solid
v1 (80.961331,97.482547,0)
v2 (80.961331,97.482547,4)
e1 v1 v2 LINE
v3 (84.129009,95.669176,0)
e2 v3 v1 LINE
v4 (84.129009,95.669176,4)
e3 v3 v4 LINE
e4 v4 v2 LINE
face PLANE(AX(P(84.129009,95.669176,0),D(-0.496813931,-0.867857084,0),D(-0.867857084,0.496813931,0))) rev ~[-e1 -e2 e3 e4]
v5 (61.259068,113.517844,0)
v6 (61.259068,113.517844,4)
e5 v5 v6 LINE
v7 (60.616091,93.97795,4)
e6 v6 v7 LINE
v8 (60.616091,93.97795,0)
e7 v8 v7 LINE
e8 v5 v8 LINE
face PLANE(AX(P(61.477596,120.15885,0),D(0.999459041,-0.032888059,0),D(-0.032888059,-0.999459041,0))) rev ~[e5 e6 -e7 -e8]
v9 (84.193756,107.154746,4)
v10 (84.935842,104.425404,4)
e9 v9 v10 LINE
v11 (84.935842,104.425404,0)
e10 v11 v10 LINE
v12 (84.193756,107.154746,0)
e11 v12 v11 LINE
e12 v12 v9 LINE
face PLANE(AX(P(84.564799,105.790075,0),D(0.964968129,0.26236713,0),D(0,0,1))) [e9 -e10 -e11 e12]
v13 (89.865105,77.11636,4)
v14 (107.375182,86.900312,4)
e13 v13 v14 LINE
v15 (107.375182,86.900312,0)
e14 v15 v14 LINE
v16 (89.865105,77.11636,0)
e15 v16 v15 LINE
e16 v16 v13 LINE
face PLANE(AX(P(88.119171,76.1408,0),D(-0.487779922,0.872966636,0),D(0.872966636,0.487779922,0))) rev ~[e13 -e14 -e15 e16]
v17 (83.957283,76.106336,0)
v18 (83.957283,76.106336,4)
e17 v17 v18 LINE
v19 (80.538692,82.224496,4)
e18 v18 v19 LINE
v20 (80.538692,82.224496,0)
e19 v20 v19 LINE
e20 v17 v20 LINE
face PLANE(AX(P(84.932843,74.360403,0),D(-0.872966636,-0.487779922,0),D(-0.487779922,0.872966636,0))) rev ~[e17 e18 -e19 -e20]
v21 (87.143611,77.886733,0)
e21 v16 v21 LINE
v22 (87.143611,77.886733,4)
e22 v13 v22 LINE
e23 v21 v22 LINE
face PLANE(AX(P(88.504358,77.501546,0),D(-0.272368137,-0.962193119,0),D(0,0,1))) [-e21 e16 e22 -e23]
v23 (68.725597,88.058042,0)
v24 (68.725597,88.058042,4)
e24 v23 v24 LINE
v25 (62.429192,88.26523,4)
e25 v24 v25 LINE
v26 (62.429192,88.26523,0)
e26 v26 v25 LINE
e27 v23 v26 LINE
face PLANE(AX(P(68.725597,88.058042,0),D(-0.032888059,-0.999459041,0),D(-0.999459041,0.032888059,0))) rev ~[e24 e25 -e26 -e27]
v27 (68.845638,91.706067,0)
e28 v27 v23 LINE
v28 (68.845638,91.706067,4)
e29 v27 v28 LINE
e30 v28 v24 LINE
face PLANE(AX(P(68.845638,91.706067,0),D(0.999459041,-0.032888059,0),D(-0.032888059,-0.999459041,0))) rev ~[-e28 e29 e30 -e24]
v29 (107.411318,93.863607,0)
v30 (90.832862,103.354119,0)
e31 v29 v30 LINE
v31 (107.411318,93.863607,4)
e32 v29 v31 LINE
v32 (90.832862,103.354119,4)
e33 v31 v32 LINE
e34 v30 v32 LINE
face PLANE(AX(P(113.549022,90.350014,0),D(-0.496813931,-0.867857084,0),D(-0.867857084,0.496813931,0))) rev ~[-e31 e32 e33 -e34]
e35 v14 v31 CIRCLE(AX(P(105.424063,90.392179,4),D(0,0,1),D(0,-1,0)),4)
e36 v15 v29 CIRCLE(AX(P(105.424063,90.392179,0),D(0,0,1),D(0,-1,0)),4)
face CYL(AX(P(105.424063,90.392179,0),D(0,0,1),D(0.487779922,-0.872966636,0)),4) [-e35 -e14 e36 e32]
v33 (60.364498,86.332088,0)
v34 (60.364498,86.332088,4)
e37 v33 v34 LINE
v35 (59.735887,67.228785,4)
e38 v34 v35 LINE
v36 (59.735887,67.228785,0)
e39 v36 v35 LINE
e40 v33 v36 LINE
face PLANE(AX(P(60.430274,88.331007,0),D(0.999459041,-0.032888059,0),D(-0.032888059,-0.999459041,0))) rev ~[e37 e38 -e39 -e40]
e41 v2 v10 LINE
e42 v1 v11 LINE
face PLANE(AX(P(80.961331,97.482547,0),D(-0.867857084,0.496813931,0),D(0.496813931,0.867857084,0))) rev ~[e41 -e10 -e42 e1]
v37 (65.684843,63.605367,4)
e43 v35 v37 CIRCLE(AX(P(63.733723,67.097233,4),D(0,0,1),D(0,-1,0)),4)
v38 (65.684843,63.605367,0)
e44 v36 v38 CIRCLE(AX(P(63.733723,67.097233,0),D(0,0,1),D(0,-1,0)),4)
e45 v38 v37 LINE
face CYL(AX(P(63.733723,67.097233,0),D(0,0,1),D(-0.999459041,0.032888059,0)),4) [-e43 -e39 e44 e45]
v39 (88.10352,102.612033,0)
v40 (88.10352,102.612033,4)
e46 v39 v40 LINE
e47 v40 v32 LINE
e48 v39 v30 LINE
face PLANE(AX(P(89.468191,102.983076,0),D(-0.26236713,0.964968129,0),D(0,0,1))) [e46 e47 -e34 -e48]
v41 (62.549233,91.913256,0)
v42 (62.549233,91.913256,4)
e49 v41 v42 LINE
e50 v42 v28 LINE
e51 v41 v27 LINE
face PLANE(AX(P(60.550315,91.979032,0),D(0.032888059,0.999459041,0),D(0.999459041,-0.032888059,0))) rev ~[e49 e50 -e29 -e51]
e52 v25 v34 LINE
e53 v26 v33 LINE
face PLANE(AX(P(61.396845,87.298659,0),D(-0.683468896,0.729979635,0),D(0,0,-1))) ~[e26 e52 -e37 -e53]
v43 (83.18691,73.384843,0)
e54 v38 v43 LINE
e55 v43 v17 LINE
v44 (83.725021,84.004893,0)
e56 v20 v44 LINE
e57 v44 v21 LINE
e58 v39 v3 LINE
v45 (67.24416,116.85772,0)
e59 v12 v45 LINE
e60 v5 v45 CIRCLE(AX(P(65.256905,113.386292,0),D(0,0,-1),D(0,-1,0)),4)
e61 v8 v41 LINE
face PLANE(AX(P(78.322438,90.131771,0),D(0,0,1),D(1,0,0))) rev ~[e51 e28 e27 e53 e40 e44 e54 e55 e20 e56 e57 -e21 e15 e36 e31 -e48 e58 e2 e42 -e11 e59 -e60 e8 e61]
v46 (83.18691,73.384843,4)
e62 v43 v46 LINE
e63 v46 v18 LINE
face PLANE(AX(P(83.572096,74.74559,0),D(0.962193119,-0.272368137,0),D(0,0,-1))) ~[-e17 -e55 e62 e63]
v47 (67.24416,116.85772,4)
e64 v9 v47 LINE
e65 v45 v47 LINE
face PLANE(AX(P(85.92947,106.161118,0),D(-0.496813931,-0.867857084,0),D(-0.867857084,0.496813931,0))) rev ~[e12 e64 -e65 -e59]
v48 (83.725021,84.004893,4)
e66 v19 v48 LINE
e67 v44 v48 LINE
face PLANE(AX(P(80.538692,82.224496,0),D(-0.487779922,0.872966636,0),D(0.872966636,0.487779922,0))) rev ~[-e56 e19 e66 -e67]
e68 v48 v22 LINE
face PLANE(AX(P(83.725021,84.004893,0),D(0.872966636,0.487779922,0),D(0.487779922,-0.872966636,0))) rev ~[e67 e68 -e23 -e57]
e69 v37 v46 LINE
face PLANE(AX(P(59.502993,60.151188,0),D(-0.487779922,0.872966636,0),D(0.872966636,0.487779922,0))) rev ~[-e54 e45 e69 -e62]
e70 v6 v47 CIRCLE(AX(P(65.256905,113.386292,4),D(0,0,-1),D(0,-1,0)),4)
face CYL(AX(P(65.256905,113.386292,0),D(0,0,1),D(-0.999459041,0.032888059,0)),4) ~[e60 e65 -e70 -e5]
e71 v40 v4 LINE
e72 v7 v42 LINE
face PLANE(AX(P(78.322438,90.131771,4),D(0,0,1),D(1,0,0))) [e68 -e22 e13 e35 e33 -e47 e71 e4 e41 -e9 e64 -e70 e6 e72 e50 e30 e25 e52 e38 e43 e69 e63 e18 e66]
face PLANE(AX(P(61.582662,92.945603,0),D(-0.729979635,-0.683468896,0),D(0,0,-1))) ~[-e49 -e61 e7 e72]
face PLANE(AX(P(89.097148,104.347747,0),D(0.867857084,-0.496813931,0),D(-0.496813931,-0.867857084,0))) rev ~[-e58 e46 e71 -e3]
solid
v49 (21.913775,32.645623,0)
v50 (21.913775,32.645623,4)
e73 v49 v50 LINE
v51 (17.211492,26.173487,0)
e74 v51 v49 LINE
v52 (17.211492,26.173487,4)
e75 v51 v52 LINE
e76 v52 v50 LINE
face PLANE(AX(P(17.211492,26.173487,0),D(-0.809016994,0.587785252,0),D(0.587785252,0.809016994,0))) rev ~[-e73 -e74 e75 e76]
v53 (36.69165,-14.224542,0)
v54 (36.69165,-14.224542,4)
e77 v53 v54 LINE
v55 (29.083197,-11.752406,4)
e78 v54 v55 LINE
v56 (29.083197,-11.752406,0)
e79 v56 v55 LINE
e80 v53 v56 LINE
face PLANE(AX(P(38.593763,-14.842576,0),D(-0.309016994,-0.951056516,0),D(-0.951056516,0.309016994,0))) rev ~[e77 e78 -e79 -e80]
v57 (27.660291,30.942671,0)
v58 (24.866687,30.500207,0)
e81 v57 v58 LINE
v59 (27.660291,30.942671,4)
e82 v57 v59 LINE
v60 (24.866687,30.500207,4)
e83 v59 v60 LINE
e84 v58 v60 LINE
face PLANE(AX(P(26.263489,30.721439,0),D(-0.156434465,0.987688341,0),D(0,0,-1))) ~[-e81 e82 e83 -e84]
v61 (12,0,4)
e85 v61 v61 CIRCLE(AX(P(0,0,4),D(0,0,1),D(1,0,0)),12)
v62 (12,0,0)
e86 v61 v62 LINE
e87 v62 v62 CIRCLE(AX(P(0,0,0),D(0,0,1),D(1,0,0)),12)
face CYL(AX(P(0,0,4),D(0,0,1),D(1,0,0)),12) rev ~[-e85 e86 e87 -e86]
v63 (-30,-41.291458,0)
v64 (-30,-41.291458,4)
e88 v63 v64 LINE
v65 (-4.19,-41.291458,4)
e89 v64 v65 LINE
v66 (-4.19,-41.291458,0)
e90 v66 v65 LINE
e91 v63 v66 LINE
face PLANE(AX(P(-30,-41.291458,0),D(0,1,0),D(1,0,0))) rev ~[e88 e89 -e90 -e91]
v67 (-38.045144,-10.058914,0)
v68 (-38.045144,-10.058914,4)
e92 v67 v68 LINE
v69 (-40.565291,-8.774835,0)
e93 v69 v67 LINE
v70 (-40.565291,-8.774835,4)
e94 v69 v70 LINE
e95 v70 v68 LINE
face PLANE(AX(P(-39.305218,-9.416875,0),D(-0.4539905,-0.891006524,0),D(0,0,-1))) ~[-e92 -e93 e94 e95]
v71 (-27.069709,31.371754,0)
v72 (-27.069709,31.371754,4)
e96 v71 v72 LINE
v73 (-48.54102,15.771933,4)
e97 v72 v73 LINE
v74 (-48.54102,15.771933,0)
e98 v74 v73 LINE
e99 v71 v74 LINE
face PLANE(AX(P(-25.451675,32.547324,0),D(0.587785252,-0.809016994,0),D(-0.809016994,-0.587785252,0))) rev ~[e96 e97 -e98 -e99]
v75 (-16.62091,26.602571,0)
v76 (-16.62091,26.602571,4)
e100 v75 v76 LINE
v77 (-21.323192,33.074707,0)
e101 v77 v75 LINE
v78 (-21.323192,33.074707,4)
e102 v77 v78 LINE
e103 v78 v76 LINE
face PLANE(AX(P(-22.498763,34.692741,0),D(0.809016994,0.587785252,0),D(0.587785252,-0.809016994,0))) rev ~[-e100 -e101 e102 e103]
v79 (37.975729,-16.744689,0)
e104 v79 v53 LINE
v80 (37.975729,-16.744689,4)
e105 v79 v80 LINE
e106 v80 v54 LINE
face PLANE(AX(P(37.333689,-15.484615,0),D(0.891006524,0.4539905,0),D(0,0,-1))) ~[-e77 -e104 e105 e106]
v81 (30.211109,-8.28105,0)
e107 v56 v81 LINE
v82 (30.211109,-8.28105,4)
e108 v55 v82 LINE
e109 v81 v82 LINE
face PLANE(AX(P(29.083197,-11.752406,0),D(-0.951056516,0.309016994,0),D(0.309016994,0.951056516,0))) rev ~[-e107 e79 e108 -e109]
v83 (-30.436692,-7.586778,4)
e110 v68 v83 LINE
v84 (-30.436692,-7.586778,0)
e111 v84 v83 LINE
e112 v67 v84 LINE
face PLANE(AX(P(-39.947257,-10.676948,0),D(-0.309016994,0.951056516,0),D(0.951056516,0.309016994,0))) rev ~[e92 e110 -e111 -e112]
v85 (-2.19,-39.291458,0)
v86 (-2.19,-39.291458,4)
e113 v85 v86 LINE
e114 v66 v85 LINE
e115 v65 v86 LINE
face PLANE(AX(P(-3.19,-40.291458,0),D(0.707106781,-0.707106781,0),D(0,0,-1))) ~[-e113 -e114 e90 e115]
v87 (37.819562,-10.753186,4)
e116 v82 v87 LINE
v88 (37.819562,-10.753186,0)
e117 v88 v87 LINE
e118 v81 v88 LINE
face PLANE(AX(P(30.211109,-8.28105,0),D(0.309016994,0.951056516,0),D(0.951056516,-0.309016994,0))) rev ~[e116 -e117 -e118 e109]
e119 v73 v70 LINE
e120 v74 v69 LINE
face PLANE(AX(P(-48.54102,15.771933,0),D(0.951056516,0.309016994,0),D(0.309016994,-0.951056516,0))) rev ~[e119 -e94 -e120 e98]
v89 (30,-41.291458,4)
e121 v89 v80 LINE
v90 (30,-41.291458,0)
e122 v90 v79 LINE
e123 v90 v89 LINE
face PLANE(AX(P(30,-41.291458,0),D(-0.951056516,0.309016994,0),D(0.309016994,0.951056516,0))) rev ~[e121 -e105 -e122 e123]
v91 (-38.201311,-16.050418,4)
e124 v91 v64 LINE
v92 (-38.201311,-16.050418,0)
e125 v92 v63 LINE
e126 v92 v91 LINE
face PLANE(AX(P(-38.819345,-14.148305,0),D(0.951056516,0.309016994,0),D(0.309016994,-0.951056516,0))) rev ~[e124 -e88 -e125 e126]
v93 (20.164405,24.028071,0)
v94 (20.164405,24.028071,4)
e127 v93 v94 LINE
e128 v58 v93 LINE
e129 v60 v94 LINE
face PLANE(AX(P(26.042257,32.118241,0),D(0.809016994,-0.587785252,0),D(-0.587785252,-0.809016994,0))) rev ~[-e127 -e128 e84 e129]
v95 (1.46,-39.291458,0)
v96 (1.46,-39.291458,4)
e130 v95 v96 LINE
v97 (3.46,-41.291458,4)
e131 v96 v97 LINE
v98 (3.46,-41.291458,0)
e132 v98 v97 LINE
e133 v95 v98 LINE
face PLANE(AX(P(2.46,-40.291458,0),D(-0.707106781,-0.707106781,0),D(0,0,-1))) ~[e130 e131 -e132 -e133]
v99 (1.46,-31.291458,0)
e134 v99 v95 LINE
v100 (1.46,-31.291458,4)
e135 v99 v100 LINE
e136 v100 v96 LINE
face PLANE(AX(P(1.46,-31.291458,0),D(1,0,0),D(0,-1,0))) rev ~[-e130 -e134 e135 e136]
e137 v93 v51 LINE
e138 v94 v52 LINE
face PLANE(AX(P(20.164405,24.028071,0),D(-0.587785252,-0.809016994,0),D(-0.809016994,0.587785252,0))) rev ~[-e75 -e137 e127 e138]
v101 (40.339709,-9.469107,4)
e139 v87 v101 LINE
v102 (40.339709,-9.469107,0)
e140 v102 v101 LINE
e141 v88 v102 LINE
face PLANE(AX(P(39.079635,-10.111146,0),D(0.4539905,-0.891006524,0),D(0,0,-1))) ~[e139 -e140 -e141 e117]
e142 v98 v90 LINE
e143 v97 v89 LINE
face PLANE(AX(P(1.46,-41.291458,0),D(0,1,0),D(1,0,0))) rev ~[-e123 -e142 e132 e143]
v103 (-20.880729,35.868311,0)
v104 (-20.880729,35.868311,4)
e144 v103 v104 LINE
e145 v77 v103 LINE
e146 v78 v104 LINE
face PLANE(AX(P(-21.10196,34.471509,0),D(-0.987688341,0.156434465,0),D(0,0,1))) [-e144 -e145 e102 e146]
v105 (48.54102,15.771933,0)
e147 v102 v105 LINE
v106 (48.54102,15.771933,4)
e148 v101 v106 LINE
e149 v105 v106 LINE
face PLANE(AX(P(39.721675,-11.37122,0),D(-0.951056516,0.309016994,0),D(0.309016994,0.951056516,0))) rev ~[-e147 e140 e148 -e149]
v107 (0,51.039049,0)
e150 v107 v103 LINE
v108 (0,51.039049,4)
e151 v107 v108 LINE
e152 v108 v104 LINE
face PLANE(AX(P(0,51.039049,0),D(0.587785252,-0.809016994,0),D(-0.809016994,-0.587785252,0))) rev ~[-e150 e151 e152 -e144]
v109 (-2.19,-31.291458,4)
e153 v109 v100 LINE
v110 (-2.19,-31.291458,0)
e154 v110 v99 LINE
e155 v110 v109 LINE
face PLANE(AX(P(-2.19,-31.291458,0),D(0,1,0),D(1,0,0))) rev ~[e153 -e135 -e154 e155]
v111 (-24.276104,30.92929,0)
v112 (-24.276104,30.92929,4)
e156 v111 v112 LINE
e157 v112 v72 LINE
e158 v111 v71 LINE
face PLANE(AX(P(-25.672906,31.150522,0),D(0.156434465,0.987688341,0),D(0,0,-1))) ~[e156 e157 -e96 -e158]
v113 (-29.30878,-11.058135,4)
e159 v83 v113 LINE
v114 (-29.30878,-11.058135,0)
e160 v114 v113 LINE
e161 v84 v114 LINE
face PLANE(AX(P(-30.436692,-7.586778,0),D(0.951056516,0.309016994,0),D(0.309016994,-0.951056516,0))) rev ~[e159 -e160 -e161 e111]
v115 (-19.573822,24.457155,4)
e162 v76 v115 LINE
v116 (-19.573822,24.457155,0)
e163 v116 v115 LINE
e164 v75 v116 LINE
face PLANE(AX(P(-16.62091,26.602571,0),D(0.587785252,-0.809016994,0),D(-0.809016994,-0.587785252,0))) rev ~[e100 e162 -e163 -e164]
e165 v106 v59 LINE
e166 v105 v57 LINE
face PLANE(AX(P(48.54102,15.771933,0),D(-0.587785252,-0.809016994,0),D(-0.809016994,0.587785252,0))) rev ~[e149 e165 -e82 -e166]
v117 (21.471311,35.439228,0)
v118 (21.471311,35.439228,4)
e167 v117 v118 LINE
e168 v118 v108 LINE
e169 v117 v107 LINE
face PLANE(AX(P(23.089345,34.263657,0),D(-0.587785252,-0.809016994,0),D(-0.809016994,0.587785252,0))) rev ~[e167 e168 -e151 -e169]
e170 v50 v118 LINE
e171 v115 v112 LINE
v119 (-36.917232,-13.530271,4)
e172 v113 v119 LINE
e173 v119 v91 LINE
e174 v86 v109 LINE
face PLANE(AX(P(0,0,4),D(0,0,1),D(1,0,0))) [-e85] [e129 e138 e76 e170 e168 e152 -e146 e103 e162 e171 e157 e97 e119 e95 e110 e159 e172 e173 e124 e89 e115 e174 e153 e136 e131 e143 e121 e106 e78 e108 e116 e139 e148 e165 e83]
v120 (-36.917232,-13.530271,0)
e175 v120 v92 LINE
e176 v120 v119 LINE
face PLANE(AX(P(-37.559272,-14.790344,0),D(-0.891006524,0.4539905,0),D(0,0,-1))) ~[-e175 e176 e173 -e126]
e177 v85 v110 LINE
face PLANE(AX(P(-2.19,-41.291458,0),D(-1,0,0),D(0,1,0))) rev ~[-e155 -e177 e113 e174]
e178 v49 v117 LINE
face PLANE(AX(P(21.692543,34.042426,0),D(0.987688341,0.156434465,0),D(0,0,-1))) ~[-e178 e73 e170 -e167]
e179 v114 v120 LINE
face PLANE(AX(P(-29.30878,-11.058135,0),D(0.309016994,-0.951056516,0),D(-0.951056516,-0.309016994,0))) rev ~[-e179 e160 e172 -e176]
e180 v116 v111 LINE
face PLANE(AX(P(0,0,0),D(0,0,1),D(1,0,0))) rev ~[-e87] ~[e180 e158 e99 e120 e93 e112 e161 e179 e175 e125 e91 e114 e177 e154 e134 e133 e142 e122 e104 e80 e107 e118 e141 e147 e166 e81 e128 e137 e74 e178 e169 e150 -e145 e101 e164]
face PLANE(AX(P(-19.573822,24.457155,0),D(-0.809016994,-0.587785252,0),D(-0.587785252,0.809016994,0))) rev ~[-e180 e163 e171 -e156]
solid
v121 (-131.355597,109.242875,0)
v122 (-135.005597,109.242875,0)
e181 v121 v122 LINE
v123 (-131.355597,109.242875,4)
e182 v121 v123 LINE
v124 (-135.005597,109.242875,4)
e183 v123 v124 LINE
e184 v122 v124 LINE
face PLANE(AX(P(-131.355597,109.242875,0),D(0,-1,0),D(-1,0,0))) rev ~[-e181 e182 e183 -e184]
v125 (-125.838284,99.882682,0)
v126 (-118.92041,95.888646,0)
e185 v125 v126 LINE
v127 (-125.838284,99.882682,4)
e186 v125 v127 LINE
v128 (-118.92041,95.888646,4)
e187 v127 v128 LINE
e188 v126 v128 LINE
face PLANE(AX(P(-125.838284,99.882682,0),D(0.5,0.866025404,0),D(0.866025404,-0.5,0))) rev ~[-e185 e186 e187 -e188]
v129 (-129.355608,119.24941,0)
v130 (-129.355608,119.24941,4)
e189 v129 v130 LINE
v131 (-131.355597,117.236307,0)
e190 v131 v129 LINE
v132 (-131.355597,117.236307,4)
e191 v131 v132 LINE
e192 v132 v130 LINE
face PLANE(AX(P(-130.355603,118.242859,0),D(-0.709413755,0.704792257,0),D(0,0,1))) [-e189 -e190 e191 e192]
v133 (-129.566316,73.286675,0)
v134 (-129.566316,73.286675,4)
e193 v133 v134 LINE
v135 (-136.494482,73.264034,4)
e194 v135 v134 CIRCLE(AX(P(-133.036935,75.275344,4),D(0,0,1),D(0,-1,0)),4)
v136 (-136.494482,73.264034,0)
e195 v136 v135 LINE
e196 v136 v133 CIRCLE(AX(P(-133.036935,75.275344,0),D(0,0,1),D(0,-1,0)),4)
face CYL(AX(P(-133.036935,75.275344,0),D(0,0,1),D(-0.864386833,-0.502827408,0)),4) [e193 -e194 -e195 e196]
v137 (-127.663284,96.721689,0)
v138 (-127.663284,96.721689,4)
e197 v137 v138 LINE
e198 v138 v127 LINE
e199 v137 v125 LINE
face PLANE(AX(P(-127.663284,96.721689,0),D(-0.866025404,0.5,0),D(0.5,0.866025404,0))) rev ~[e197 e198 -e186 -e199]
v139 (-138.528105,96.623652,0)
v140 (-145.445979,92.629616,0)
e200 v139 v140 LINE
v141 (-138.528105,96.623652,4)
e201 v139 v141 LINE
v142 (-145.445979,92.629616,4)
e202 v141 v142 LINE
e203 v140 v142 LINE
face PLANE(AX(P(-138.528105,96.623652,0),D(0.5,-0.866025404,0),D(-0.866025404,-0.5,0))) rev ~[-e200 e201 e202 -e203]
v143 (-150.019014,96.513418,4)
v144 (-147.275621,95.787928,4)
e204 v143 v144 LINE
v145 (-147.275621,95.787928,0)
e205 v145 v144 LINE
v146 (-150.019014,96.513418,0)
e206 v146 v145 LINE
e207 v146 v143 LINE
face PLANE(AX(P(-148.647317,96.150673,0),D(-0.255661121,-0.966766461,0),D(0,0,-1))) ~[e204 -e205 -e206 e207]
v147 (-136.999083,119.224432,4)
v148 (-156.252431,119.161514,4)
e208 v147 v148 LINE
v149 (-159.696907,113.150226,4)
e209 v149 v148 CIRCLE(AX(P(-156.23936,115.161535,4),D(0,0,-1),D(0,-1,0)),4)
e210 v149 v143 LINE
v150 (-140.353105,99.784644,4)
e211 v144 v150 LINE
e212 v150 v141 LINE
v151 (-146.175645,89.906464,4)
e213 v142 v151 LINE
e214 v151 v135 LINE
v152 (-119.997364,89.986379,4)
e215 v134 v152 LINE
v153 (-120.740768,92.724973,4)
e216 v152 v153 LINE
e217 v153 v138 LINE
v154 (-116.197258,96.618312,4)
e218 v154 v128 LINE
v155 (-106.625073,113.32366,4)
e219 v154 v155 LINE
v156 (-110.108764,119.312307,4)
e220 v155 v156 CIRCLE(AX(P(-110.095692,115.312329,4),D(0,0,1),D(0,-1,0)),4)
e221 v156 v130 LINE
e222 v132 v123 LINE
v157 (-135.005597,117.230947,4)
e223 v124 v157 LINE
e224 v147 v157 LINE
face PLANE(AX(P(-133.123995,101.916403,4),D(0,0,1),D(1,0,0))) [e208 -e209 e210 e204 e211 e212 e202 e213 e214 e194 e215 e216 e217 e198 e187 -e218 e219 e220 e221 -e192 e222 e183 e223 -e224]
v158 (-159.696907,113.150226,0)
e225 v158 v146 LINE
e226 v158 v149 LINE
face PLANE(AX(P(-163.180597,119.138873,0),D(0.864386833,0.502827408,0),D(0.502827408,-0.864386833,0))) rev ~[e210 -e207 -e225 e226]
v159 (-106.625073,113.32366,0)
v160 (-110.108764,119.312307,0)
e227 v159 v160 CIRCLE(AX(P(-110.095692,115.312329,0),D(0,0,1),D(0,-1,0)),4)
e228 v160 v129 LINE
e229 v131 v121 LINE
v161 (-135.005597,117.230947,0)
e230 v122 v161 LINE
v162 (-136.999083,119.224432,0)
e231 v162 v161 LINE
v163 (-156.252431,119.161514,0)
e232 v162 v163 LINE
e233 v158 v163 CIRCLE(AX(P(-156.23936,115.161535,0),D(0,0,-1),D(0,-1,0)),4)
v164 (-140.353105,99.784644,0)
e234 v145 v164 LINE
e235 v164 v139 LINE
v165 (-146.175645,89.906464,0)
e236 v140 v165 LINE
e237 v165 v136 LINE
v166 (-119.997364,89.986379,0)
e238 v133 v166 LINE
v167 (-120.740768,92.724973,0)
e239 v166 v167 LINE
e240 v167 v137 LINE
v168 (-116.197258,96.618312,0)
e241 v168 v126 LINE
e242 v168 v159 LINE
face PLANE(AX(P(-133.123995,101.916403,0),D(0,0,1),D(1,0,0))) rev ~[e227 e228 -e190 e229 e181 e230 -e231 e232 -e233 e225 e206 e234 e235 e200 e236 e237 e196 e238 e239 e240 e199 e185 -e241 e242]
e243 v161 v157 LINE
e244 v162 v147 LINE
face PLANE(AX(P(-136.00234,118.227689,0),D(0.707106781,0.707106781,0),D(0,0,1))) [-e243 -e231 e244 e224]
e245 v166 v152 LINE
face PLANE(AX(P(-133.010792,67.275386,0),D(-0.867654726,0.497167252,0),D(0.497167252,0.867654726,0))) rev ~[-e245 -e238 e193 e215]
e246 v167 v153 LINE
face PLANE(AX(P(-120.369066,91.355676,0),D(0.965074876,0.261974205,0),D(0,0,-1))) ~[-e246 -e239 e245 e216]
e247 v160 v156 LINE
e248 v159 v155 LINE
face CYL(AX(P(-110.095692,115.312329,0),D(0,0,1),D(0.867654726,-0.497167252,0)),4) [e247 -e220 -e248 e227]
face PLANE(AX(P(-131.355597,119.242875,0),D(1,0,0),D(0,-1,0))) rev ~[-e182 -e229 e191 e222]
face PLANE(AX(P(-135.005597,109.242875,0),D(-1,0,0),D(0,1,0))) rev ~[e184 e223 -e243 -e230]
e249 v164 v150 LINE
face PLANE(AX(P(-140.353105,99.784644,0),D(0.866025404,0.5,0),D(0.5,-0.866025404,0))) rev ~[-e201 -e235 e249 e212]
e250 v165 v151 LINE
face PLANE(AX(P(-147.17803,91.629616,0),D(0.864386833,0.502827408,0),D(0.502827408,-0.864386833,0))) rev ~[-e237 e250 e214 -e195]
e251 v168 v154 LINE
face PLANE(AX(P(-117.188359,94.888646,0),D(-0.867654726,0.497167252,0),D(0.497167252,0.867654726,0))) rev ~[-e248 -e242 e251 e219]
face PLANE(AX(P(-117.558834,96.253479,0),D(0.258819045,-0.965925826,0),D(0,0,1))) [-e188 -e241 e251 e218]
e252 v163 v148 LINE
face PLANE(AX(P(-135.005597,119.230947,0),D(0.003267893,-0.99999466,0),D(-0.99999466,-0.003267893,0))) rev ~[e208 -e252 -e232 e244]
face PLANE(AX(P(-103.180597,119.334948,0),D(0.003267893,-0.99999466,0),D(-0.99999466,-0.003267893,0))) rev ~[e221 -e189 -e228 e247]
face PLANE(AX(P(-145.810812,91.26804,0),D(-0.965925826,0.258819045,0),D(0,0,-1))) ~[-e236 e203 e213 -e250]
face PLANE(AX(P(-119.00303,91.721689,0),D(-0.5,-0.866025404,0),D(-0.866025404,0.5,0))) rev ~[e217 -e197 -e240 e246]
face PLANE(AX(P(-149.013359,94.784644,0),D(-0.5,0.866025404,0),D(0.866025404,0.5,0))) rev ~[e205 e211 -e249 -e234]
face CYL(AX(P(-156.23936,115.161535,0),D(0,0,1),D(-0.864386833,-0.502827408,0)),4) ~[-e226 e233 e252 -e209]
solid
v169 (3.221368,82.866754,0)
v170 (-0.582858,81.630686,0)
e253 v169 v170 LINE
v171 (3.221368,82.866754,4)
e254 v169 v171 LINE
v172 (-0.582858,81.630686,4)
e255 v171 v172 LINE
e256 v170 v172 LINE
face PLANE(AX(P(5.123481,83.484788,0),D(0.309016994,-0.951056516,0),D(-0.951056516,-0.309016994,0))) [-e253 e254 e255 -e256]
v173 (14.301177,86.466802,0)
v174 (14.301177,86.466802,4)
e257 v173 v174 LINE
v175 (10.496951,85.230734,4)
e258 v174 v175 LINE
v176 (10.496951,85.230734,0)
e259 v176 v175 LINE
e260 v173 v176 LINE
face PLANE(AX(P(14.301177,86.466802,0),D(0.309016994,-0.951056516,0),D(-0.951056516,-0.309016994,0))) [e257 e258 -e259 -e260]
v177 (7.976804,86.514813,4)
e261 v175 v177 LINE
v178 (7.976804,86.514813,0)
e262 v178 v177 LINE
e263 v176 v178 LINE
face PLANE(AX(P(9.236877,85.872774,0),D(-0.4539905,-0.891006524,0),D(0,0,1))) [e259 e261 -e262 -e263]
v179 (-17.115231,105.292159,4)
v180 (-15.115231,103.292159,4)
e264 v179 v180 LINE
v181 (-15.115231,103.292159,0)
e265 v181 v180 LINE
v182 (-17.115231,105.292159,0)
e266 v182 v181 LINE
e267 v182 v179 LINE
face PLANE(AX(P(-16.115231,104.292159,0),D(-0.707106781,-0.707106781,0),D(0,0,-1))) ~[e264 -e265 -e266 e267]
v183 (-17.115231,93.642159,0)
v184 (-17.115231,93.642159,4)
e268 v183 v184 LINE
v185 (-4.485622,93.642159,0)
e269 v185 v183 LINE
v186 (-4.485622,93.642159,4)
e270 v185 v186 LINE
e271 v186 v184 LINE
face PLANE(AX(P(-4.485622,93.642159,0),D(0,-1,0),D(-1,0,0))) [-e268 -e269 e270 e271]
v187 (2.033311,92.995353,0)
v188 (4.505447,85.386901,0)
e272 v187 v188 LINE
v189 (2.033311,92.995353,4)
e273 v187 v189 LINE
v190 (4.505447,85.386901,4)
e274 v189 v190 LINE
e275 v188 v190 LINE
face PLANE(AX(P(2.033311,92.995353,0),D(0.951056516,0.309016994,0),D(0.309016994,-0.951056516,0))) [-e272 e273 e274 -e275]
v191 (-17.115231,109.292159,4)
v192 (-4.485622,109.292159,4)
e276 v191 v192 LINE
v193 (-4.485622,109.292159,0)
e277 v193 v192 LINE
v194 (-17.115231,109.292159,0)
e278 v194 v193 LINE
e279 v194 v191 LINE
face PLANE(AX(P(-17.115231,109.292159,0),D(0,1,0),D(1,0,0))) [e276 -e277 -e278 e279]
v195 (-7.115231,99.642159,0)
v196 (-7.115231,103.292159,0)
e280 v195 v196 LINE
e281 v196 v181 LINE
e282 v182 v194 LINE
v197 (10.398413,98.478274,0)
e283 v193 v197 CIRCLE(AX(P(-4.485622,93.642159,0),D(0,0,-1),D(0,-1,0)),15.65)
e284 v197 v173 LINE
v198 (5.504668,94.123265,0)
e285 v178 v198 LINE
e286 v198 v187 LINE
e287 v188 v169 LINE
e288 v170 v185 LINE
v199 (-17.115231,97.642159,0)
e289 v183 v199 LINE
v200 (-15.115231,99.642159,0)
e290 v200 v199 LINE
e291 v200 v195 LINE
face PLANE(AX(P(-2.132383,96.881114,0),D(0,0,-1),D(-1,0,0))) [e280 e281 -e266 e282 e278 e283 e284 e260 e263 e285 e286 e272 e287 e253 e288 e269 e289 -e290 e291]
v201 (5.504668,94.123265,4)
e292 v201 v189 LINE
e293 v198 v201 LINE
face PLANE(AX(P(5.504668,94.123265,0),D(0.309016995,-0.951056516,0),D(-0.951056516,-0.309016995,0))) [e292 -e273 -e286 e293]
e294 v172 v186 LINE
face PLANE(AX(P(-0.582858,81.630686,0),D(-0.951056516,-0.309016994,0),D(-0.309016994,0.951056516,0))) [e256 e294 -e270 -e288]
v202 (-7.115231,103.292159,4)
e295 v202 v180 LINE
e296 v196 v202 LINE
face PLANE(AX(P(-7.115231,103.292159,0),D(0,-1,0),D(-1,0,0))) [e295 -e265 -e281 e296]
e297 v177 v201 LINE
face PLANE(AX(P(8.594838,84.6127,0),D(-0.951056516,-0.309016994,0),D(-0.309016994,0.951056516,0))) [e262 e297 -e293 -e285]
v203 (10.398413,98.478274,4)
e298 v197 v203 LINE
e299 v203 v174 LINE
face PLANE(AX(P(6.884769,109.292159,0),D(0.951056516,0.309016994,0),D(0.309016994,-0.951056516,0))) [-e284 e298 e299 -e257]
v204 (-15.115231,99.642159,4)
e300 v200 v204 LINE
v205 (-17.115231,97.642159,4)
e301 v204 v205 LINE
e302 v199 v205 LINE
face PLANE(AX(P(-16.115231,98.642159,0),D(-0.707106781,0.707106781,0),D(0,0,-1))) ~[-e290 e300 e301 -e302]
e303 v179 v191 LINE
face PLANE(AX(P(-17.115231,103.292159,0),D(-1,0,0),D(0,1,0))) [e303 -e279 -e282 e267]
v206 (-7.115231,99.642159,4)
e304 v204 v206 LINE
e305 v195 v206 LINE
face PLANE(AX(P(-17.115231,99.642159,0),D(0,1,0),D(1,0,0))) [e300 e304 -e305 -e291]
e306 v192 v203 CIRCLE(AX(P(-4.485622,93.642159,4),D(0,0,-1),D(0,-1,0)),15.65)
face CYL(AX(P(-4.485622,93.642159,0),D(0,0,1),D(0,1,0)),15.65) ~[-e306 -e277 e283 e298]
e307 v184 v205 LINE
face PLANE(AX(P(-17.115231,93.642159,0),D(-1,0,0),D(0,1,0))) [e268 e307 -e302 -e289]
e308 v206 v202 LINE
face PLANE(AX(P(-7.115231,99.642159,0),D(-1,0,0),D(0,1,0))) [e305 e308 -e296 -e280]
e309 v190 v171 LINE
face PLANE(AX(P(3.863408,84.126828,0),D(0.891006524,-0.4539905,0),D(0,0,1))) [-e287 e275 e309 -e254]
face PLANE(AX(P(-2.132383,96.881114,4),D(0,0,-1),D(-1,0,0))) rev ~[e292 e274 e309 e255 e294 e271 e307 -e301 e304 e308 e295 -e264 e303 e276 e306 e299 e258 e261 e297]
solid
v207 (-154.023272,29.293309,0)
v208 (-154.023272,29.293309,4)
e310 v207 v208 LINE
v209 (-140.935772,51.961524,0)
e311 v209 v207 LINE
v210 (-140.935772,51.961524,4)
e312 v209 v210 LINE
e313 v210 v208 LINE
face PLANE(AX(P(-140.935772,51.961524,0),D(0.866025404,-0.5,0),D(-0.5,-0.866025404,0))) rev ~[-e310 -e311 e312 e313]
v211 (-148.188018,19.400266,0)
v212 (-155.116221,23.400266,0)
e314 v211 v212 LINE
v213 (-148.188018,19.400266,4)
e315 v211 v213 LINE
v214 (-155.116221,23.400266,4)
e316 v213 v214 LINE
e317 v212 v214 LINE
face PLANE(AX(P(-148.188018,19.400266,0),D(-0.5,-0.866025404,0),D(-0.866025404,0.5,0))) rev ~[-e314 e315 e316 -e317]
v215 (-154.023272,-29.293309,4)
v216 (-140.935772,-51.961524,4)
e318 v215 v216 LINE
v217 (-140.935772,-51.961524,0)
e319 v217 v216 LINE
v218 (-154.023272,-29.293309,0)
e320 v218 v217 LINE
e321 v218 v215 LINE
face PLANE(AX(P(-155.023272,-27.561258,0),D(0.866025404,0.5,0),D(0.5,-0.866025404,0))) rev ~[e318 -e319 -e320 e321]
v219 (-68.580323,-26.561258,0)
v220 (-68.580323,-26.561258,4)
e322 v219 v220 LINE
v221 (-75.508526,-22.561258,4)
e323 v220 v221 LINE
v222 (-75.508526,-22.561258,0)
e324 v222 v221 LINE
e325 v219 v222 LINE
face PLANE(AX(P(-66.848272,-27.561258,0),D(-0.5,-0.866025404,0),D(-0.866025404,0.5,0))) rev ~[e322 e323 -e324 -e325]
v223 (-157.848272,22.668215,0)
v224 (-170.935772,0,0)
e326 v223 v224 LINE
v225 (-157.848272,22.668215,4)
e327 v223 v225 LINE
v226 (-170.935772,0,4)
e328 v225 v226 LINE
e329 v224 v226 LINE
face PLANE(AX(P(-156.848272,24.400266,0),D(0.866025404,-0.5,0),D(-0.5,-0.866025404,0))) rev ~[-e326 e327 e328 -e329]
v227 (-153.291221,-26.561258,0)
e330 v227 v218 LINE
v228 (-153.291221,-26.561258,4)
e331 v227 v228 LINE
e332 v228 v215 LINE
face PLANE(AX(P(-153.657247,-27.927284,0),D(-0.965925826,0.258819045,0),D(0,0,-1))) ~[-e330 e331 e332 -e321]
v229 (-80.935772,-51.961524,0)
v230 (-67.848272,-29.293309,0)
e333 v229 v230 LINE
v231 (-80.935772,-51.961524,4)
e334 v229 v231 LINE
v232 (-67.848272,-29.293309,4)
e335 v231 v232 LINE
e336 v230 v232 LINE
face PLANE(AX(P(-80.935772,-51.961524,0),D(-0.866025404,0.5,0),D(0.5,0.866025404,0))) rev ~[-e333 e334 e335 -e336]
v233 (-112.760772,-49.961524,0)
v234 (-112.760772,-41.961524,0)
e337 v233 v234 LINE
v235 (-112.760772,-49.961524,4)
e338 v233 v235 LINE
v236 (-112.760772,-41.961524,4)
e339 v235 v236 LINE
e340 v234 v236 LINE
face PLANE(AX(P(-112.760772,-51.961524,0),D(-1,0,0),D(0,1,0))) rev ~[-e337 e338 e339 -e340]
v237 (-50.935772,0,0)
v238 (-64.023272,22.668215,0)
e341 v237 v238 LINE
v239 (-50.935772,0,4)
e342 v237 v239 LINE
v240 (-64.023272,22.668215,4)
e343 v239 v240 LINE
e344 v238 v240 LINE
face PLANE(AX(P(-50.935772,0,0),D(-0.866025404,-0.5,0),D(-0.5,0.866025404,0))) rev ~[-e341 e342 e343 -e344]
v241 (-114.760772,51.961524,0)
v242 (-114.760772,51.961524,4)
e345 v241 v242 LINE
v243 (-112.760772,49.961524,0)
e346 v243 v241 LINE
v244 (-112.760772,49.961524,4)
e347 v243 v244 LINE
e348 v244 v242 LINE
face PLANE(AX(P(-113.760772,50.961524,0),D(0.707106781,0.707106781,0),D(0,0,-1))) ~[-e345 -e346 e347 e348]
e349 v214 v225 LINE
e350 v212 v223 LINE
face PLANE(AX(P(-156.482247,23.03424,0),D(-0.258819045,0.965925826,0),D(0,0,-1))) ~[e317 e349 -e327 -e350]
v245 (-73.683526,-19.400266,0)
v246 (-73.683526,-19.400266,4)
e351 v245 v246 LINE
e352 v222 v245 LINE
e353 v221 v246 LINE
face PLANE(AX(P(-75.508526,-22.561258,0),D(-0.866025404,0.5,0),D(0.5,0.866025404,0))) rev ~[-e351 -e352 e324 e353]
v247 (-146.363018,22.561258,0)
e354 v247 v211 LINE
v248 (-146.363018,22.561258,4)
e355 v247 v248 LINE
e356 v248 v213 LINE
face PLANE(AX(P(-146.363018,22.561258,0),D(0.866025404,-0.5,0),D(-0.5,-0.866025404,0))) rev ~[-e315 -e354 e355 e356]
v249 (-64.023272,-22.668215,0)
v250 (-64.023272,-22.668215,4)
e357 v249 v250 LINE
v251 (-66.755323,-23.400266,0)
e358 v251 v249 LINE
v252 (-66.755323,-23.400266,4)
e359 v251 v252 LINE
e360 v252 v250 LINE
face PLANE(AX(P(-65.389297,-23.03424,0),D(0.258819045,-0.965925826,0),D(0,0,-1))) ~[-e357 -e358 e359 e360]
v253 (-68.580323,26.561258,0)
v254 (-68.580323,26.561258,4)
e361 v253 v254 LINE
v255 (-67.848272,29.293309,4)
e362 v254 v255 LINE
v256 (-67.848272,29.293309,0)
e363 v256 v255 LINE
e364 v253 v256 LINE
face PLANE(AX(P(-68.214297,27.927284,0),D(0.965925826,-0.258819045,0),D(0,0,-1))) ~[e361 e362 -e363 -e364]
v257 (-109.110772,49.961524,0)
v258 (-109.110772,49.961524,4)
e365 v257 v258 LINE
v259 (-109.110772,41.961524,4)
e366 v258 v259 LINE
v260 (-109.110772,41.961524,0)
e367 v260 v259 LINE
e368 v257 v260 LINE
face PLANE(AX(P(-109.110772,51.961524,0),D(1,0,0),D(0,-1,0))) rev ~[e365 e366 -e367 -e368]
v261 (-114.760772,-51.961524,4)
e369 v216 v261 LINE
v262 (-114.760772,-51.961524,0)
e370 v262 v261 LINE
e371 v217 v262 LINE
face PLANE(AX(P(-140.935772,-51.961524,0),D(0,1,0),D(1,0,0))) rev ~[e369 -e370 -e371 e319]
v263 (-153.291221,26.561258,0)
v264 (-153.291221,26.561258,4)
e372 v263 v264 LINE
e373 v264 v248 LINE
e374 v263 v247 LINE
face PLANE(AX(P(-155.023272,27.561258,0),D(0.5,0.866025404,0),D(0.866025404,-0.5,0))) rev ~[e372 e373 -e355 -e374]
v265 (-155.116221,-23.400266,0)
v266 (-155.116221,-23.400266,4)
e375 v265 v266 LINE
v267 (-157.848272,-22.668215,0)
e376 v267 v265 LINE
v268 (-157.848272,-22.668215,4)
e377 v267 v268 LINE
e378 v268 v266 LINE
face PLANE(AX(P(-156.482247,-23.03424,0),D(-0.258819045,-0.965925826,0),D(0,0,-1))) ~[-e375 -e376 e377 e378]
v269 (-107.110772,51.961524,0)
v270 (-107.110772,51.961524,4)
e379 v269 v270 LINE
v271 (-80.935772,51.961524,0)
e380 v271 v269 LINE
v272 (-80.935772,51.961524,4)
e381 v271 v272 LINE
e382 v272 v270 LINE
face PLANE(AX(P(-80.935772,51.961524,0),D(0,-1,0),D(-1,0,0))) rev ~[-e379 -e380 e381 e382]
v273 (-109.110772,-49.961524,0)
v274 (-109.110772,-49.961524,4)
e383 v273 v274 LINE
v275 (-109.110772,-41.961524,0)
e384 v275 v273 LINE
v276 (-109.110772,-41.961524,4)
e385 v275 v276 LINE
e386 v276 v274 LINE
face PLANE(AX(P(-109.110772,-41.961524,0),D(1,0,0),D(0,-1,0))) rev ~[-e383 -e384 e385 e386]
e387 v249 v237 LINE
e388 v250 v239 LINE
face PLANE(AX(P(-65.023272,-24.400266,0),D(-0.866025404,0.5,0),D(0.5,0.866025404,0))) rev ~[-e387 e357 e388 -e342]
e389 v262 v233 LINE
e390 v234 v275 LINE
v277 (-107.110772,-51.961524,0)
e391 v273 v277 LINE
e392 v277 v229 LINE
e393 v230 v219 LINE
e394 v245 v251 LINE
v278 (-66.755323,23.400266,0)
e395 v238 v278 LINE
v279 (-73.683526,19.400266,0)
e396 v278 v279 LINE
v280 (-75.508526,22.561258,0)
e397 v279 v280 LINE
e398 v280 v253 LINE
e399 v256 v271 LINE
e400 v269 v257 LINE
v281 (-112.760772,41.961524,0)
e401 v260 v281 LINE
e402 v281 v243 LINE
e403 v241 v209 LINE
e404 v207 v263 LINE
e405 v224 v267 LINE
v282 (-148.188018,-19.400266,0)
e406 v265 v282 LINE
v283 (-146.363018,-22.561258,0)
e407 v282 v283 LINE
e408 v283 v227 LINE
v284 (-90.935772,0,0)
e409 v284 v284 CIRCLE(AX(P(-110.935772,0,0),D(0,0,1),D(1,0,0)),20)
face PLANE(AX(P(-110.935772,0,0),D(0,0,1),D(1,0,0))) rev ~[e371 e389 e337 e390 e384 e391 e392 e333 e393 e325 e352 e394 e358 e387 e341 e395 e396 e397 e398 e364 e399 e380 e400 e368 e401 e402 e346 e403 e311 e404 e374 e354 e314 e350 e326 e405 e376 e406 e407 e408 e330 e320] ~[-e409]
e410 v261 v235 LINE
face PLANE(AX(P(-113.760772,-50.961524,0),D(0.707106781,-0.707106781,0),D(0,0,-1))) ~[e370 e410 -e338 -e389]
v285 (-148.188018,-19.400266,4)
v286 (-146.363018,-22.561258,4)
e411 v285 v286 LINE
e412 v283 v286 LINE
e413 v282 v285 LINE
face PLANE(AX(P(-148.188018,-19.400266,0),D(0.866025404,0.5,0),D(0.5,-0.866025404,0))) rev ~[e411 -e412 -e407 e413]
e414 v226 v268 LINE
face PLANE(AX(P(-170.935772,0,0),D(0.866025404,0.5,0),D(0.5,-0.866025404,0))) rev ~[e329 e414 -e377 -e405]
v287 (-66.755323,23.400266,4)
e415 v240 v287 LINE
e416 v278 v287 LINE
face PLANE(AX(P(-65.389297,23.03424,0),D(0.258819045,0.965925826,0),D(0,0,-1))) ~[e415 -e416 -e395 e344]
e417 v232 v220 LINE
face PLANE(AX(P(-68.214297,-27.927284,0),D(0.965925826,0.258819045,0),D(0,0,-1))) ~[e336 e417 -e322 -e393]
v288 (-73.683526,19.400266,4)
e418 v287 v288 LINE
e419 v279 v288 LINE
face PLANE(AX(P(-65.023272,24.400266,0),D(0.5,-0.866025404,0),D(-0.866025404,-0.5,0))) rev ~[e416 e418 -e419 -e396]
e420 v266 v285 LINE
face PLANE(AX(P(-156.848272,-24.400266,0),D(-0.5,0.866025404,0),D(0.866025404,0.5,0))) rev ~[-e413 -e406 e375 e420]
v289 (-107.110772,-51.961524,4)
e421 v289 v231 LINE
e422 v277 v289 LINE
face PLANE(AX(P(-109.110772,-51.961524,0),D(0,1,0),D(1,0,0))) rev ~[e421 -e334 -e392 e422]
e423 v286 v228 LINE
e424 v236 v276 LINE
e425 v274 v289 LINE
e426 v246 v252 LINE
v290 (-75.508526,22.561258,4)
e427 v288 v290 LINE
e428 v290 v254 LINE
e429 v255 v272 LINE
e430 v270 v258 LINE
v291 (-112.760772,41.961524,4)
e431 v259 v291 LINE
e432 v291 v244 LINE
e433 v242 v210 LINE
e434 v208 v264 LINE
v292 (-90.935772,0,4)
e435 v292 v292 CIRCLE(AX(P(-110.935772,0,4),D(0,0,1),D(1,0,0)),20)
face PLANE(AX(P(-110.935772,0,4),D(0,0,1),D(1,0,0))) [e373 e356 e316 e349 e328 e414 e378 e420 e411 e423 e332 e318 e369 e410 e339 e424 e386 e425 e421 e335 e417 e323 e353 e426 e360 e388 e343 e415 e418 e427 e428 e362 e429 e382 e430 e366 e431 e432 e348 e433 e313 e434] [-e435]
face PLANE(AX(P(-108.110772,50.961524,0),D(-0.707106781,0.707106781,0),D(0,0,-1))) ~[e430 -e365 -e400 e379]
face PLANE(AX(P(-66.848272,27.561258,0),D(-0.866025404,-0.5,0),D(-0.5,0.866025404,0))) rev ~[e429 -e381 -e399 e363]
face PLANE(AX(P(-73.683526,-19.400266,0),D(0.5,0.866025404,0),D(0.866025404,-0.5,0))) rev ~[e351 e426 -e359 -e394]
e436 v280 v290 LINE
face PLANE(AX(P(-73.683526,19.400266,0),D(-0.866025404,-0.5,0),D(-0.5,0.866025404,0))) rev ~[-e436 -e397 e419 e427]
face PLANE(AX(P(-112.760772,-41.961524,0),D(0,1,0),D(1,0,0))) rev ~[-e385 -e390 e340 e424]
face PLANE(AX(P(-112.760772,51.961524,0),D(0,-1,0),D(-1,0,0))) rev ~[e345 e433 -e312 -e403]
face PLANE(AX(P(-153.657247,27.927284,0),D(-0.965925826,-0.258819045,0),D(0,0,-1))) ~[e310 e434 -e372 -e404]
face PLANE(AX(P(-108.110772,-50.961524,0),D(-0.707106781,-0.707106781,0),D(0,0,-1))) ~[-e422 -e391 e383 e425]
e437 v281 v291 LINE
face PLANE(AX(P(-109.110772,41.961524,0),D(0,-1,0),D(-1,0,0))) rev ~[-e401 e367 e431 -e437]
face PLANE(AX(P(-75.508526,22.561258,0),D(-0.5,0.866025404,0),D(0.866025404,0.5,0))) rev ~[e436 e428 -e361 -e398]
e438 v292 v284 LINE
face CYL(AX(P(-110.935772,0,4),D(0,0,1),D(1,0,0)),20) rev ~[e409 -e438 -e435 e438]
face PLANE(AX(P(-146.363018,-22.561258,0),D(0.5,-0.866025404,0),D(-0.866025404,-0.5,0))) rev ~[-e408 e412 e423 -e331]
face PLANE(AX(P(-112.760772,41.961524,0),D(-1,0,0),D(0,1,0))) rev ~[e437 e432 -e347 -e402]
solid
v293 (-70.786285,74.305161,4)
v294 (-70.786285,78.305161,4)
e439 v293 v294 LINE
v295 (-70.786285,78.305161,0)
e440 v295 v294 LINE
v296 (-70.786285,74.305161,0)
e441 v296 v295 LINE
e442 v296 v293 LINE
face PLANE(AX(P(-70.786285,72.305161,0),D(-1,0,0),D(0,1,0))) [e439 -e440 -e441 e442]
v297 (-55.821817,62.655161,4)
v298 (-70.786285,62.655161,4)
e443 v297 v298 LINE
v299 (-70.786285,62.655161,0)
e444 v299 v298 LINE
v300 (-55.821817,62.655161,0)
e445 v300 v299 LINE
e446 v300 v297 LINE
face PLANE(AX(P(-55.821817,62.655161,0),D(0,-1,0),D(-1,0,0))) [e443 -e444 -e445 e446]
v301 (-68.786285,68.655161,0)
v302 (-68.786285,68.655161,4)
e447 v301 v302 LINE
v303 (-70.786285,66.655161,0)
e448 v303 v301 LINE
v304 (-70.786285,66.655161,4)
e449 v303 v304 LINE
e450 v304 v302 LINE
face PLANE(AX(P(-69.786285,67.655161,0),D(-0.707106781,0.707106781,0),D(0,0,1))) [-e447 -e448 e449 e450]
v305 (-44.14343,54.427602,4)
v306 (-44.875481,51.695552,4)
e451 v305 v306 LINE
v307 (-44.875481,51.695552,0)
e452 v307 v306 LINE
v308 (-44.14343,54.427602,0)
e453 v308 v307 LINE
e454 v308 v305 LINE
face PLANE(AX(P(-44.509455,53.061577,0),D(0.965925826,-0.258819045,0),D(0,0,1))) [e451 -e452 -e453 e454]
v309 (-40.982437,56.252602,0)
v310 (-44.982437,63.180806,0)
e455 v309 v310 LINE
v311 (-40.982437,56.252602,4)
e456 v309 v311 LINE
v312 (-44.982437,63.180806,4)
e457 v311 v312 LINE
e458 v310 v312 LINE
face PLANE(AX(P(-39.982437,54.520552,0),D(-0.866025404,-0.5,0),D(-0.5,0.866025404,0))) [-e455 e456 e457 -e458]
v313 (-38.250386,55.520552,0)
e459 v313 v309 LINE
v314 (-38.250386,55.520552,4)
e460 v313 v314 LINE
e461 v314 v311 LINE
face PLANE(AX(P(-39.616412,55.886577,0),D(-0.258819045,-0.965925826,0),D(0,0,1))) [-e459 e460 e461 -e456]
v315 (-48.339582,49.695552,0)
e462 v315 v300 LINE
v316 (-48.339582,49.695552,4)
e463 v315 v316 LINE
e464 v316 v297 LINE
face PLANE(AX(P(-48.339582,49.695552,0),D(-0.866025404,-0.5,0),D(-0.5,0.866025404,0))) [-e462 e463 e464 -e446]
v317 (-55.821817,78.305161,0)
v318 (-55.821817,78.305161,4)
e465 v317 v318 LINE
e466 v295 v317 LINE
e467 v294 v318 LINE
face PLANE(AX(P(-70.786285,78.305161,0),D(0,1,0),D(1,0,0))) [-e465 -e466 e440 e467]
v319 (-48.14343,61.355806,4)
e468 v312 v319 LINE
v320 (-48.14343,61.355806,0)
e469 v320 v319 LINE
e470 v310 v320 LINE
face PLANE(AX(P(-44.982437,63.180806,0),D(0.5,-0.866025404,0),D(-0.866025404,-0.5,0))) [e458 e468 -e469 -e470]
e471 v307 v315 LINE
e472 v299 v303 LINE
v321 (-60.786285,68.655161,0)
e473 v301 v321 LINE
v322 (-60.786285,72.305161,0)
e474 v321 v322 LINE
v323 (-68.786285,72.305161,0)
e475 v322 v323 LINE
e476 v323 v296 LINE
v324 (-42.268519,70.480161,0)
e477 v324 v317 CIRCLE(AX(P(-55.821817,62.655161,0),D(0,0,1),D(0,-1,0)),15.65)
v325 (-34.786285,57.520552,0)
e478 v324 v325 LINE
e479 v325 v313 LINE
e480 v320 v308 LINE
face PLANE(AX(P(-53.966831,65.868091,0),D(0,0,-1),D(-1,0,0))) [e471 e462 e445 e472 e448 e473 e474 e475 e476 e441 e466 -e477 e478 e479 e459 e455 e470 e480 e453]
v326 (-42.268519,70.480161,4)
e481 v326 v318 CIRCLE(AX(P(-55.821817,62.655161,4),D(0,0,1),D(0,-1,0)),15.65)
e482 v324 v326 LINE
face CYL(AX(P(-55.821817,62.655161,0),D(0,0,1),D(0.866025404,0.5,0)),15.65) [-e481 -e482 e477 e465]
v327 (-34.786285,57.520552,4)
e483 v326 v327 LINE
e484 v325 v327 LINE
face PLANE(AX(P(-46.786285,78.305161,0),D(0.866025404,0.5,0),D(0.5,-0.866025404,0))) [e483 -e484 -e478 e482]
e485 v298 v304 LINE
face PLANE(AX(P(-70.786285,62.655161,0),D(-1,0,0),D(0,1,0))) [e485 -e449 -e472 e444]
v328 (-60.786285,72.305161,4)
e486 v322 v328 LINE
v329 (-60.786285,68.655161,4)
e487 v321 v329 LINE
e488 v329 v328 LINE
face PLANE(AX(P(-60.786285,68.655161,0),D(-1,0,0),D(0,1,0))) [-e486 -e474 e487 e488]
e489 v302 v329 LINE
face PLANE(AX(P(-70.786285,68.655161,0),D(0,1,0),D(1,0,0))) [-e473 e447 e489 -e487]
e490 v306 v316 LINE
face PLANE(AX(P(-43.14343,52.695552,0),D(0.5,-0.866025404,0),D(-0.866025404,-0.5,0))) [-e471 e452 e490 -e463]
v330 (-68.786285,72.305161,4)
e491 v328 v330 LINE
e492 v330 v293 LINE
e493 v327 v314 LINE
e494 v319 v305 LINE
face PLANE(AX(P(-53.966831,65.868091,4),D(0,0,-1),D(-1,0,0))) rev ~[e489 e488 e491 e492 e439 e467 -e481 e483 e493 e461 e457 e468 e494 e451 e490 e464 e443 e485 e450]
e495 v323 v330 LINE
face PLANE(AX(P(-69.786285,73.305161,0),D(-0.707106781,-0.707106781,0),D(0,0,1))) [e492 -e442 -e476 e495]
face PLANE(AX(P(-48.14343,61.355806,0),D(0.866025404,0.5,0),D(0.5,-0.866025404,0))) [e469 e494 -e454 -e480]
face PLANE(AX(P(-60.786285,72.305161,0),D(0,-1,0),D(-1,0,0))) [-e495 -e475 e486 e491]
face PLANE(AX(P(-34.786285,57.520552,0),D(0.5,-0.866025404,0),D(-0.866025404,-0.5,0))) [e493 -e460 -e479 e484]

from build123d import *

# Parameters (mm, degrees)
SALIENTE_EXTRUIR1_DEPTH = 4
CHAFL_N1_SIZE           = 2
SALIENTE_EXTRUIR2_DEPTH = 4
CHAFL_N2_SIZE           = 2
SALIENTE_EXTRUIR3_DEPTH = 4
CHAFL_N3_SIZE           = 2
REDONDEO1_R             = 15.65
SALIENTE_EXTRUIR4_DEPTH = 4
REDONDEO2_R             = 15.65
CHAFL_N4_SIZE           = 2
CROQUIS5_R              = 20
CROQUIS5_R_2            = 12
CORTAR_EXTRUIR1_DEPTH   = 4
SALIENTE_EXTRUIR6_DEPTH = 4
REDONDEO4_R             = 4
SALIENTE_EXTRUIR7_DEPTH = 4
REDONDEO5_R             = 4
CHAFL_N5_SIZE           = 2
CHAFL_N5_SIZE2          = 1.993496113
CHAFL_N5_EDGE_2_SIZE    = 2
CHAFL_N5_EDGE_2_SIZE2   = 2.006567963
CHAFL_N5_EDGE_3_SIZE    = 1.993496113
CHAFL_N5_EDGE_3_SIZE2   = 2
CHAFL_N5_EDGE_4_SIZE    = 2.006567963
CHAFL_N5_EDGE_4_SIZE2   = 2
CHAFL_N5_EDGE_5_SIZE    = 1.993496113
CHAFL_N5_EDGE_5_SIZE2   = 2
CHAFL_N5_EDGE_6_SIZE    = 2
CHAFL_N5_EDGE_6_SIZE2   = 2.006567963
CHAFL_N6_SIZE           = 2


with BuildPart() as part:
    # Croquis1 → Saliente-Extruir1 (new body)
    with BuildSketch(Plane.XY):
        Polygon((-22.498762614, 34.692740635), (-16.620910091, 26.602570691), (-19.57382212, 24.45715452), (-25.451674643, 32.547324464), (-48.541019662, 15.771933364), (-39.947257049, -10.676948355), (-30.436691886, -7.586778411), (-29.308779857, -11.058134695), (-38.819345019, -14.148304639), (-30, -41.291457614), (-2.19, -41.291457614), (-2.19, -31.291457614), (1.46, -31.291457614), (1.46, -41.291457614), (30, -41.291457614), (38.593762614, -14.842575896), (29.083197451, -11.752405952), (30.21110948, -8.281049668), (39.721674643, -11.371219611), (48.541019662, 15.771933364), (26.042257049, 32.11824123), (20.164404526, 24.028071286), (17.211492497, 26.173487457), (23.089345019, 34.263657401), (0, 51.039048501), align=None)
    extrude(amount=SALIENTE_EXTRUIR1_DEPTH)

    # Chaflán1
    chafl_n1_edges = [part.edges().sort_by_distance(p)[0] for p in [
        (23.089345019, 34.263657401, 2),
        (26.042257049, 32.11824123, 2),
        (39.721674643, -11.371219611, 2),
        (38.593762614, -14.842575896, 2),
        (1.46, -41.291457614, 2),
        (-2.19, -41.291457614, 2),
        (-38.819345019, -14.148304639, 2),
        (-39.947257049, -10.676948355, 2),
        (-25.451674643, 32.547324464, 2),
        (-22.498762614, 34.692740635, 2),
    ]]
    chamfer(chafl_n1_edges, length=CHAFL_N1_SIZE)


with BuildPart() as body_2:
    # Croquis2 → Saliente-Extruir2 (new body)
    with BuildSketch(Plane.XY):
        Polygon((-50.935771969, 0), (-65.023271969, 24.400265752), (-73.683526006, 19.400265752), (-75.508526006, 22.561258475), (-66.848271969, 27.561258475), (-80.935771969, 51.961524227), (-109.110771969, 51.961524227), (-109.110771969, 41.961524227), (-112.760771969, 41.961524227), (-112.760771969, 51.961524227), (-140.935771969, 51.961524227), (-155.023271969, 27.561258475), (-146.363017931, 22.561258475), (-148.188017931, 19.400265752), (-156.848271969, 24.400265752), (-170.935771969, 0), (-156.848271969, -24.400265752), (-148.188017931, -19.400265752), (-146.363017931, -22.561258475), (-155.023271969, -27.561258475), (-140.935771969, -51.961524227), (-112.760771969, -51.961524227), (-112.760771969, -41.961524227), (-109.110771969, -41.961524227), (-109.110771969, -51.961524227), (-80.935771969, -51.961524227), (-66.848271969, -27.561258475), (-75.508526006, -22.561258475), (-73.683526006, -19.400265752), (-65.023271969, -24.400265752), align=None)
    extrude(amount=SALIENTE_EXTRUIR2_DEPTH)

    # Chaflán2
    chafl_n2_edges = [body_2.edges().sort_by_distance(p)[0] for p in [
        (-65.023271969, -24.400265752, 2),
        (-66.848271969, -27.561258475, 2),
        (-109.110771969, -51.961524227, 2),
        (-112.760771969, -51.961524227, 2),
        (-155.023271969, -27.561258475, 2),
        (-156.848271969, -24.400265752, 2),
        (-156.848271969, 24.400265752, 2),
        (-155.023271969, 27.561258475, 2),
        (-112.760771969, 51.961524227, 2),
        (-109.110771969, 51.961524227, 2),
        (-66.848271969, 27.561258475, 2),
        (-65.023271969, 24.400265752, 2),
    ]]
    chamfer(chafl_n2_edges, length=CHAFL_N2_SIZE)


with BuildPart() as body_3:
    # Croquis3 → Saliente-Extruir3 (new body)
    with BuildSketch(Plane.XY):
        Polygon((-70.786284867, 78.305161206), (-46.786284867, 78.305161206), (-34.786284867, 57.520551515), (-39.98243729, 54.520551515), (-44.98243729, 63.180805553), (-48.143430014, 61.355805553), (-43.143430014, 52.695551515), (-48.339582437, 49.695551515), (-55.82181658, 62.655161206), (-70.786284867, 62.655161206), (-70.786284867, 68.655161206), (-60.786284867, 68.655161206), (-60.786284867, 72.305161206), (-70.786284867, 72.305161206), align=None)
    extrude(amount=SALIENTE_EXTRUIR3_DEPTH)

    # Chaflán3
    chafl_n3_edges = [body_3.edges().sort_by_distance(p)[0] for p in [
        (-39.98243729, 54.520551515, 2),
        (-43.143430014, 52.695551515, 2),
        (-70.786284867, 68.655161206, 2),
        (-70.786284867, 72.305161206, 2),
    ]]
    chamfer(chafl_n3_edges, length=CHAFL_N3_SIZE)

    # Redondeo1
    redondeo1_edges = [body_3.edges().sort_by_distance(p)[0] for p in [
        (-46.786284867, 78.305161206, 2),
    ]]
    fillet(redondeo1_edges, radius=REDONDEO1_R)


with BuildPart() as body_4:
    # Croquis4 → Saliente-Extruir4 (new body)
    with BuildSketch(Plane.XY):
        Polygon((-17.115231159, 109.292158512), (6.884768841, 109.292158512), (14.301176706, 86.466802121), (8.594837608, 84.612700155), (5.504667664, 94.123265318), (2.03331138, 92.995353288), (5.123481324, 83.484788125), (-0.582857774, 81.630686159), (-4.485621722, 93.642158512), (-17.115231159, 93.642158512), (-17.115231159, 99.642158512), (-7.115231159, 99.642158512), (-7.115231159, 103.292158512), (-17.115231159, 103.292158512), align=None)
    extrude(amount=SALIENTE_EXTRUIR4_DEPTH)

    # Redondeo2
    redondeo2_edges = [body_4.edges().sort_by_distance(p)[0] for p in [
        (6.884768841, 109.292158512, 2),
    ]]
    fillet(redondeo2_edges, radius=REDONDEO2_R)

    # Chaflán4
    chafl_n4_edges = [body_4.edges().sort_by_distance(p)[0] for p in [
        (8.594837608, 84.612700155, 2),
        (5.123481324, 83.484788125, 2),
        (-17.115231159, 99.642158512, 2),
        (-17.115231159, 103.292158512, 2),
    ]]
    chamfer(chafl_n4_edges, length=CHAFL_N4_SIZE)


with BuildPart() as cortar_extruir1_tool:
    # Croquis5 → Cortar-Extruir1 (new body)
    with BuildSketch(Plane.XY.offset(4)):
        with Locations((-110.935771969, 0)):
            Circle(CROQUIS5_R)
        Circle(CROQUIS5_R_2)
    extrude(amount=-CORTAR_EXTRUIR1_DEPTH)


with BuildPart() as part_1:
    add(part.part)

    # Cortar-Extruir1: cut by cortar_extruir1_tool
    add(cortar_extruir1_tool.part, mode=Mode.SUBTRACT)


with BuildPart() as body_2_1:
    add(body_2.part)

    # Cortar-Extruir1: cut by cortar_extruir1_tool
    add(cortar_extruir1_tool.part, mode=Mode.SUBTRACT)


with BuildPart() as body_5:
    # Croquis8 → Saliente-Extruir6 (new body)
    with BuildSketch(Plane.XY):
        Polygon((-163.180597318, 119.138873384), (-149.013359447, 94.784644314), (-140.353105409, 99.784644314), (-138.528105409, 96.62365159), (-147.178029607, 91.629615526), (-133.010791736, 67.275386456), (-119.003029607, 91.721688889), (-127.663283645, 96.721688889), (-125.838283645, 99.882681613), (-117.188359447, 94.888645548), (-103.180597318, 119.334947981), (-131.355597318, 119.242874618), (-131.355597318, 109.242874618), (-135.005597318, 109.242874618), (-135.005597318, 119.230946747), align=None)
    extrude(amount=SALIENTE_EXTRUIR6_DEPTH)

    # Redondeo4
    redondeo4_edges = [body_5.edges().sort_by_distance(p)[0] for p in [
        (-163.180597318, 119.138873384, 2),
        (-103.180597318, 119.334947981, 2),
        (-133.010791736, 67.275386456, 2),
    ]]
    fillet(redondeo4_edges, radius=REDONDEO4_R)

    # Chaflán5
    chafl_n5_edges = [body_5.edges().sort_by_distance(p)[0] for p in [
        (-147.178029607, 91.629615526, 2),
    ]]
    chafl_n5_side = [body_5.faces().sort_by_distance(p)[0] for p in [
        (-142.853067508, 94.126633558, 2),
    ]]
    chamfer(chafl_n5_edges, length=CHAFL_N5_SIZE, length2=CHAFL_N5_SIZE2, reference=chafl_n5_side[0])

    # Chaflán5 edge 2
    chafl_n5_edge_2_edges = [body_5.edges().sort_by_distance(p)[0] for p in [
        (-149.013359447, 94.784644314, 2),
    ]]
    chafl_n5_edge_2_side = [body_5.faces().sort_by_distance(p)[0] for p in [
        (-154.355133146, 103.967435023, 2),
    ]]
    chamfer(chafl_n5_edge_2_edges, length=CHAFL_N5_EDGE_2_SIZE, length2=CHAFL_N5_EDGE_2_SIZE2, reference=chafl_n5_edge_2_side[0])

    # Chaflán5 edge 3
    chafl_n5_edge_3_edges = [body_5.edges().sort_by_distance(p)[0] for p in [
        (-135.005597318, 119.230946747, 2),
    ]]
    chafl_n5_edge_3_side = [body_5.faces().sort_by_distance(p)[0] for p in [
        (-145.6290142, 119.196230377, 2),
    ]]
    chamfer(chafl_n5_edge_3_edges, length=CHAFL_N5_EDGE_3_SIZE, length2=CHAFL_N5_EDGE_3_SIZE2, reference=chafl_n5_edge_3_side[0])

    # Chaflán5 edge 4
    chafl_n5_edge_4_edges = [body_5.edges().sort_by_distance(p)[0] for p in [
        (-131.355597318, 119.242874618, 2),
    ]]
    chafl_n5_edge_4_side = [body_5.faces().sort_by_distance(p)[0] for p in [
        (-131.355597318, 114.242874618, 2),
    ]]
    chamfer(chafl_n5_edge_4_edges, length=CHAFL_N5_EDGE_4_SIZE, length2=CHAFL_N5_EDGE_4_SIZE2, reference=chafl_n5_edge_4_side[0])

    # Chaflán5 edge 5
    chafl_n5_edge_5_edges = [body_5.edges().sort_by_distance(p)[0] for p in [
        (-117.188359447, 94.888645548, 2),
    ]]
    chafl_n5_edge_5_side = [body_5.faces().sort_by_distance(p)[0] for p in [
        (-111.906716264, 104.106152628, 2),
    ]]
    chamfer(chafl_n5_edge_5_edges, length=CHAFL_N5_EDGE_5_SIZE, length2=CHAFL_N5_EDGE_5_SIZE2, reference=chafl_n5_edge_5_side[0])

    # Chaflán5 edge 6
    chafl_n5_edge_6_edges = [body_5.edges().sort_by_distance(p)[0] for p in [
        (-119.003029607, 91.721688889, 2),
    ]]
    chafl_n5_edge_6_side = [body_5.faces().sort_by_distance(p)[0] for p in [
        (-124.28467279, 82.504181809, 2),
    ]]
    chamfer(chafl_n5_edge_6_edges, length=CHAFL_N5_EDGE_6_SIZE, length2=CHAFL_N5_EDGE_6_SIZE2, reference=chafl_n5_edge_6_side[0])


with BuildPart() as body_6:
    # Croquis7 → Saliente-Extruir7 (new body)
    with BuildSketch(Plane.XY):
        Polygon((61.477596493, 120.158850294), (60.550315351, 91.979032037), (68.845638112, 91.706067311), (68.725596697, 88.05804181), (60.430273936, 88.331006536), (59.502992794, 60.151188278), (84.932843055, 74.360403009), (80.538692496, 82.224496335), (83.725020717, 84.004893051), (88.119171276, 76.140799725), (113.549021536, 90.350014456), (89.097148193, 104.347746952), (84.129008887, 95.669176111), (80.96133053, 97.482546958), (85.929469836, 106.161117799), align=None)
    extrude(amount=SALIENTE_EXTRUIR7_DEPTH)

    # Redondeo5
    redondeo5_edges = [body_6.edges().sort_by_distance(p)[0] for p in [
        (113.549021536, 90.350014456, 2),
        (59.502992794, 60.151188278, 2),
        (61.477596493, 120.158850294, 2),
    ]]
    fillet(redondeo5_edges, radius=REDONDEO5_R)

    # Chaflán6
    chafl_n6_edges = [body_6.edges().sort_by_distance(p)[0] for p in [
        (85.929469836, 106.161117799, 2),
        (89.097148193, 104.347746952, 2),
        (88.119171276, 76.140799725, 2),
        (84.932843055, 74.360403009, 2),
        (60.430273936, 88.331006536, 2),
        (60.550315351, 91.979032037, 2),
    ]]
    chamfer(chafl_n6_edges, length=CHAFL_N6_SIZE)


solid = Compound([body_3.part, body_4.part, part_1.part, body_2_1.part, body_5.part, body_6.part])
